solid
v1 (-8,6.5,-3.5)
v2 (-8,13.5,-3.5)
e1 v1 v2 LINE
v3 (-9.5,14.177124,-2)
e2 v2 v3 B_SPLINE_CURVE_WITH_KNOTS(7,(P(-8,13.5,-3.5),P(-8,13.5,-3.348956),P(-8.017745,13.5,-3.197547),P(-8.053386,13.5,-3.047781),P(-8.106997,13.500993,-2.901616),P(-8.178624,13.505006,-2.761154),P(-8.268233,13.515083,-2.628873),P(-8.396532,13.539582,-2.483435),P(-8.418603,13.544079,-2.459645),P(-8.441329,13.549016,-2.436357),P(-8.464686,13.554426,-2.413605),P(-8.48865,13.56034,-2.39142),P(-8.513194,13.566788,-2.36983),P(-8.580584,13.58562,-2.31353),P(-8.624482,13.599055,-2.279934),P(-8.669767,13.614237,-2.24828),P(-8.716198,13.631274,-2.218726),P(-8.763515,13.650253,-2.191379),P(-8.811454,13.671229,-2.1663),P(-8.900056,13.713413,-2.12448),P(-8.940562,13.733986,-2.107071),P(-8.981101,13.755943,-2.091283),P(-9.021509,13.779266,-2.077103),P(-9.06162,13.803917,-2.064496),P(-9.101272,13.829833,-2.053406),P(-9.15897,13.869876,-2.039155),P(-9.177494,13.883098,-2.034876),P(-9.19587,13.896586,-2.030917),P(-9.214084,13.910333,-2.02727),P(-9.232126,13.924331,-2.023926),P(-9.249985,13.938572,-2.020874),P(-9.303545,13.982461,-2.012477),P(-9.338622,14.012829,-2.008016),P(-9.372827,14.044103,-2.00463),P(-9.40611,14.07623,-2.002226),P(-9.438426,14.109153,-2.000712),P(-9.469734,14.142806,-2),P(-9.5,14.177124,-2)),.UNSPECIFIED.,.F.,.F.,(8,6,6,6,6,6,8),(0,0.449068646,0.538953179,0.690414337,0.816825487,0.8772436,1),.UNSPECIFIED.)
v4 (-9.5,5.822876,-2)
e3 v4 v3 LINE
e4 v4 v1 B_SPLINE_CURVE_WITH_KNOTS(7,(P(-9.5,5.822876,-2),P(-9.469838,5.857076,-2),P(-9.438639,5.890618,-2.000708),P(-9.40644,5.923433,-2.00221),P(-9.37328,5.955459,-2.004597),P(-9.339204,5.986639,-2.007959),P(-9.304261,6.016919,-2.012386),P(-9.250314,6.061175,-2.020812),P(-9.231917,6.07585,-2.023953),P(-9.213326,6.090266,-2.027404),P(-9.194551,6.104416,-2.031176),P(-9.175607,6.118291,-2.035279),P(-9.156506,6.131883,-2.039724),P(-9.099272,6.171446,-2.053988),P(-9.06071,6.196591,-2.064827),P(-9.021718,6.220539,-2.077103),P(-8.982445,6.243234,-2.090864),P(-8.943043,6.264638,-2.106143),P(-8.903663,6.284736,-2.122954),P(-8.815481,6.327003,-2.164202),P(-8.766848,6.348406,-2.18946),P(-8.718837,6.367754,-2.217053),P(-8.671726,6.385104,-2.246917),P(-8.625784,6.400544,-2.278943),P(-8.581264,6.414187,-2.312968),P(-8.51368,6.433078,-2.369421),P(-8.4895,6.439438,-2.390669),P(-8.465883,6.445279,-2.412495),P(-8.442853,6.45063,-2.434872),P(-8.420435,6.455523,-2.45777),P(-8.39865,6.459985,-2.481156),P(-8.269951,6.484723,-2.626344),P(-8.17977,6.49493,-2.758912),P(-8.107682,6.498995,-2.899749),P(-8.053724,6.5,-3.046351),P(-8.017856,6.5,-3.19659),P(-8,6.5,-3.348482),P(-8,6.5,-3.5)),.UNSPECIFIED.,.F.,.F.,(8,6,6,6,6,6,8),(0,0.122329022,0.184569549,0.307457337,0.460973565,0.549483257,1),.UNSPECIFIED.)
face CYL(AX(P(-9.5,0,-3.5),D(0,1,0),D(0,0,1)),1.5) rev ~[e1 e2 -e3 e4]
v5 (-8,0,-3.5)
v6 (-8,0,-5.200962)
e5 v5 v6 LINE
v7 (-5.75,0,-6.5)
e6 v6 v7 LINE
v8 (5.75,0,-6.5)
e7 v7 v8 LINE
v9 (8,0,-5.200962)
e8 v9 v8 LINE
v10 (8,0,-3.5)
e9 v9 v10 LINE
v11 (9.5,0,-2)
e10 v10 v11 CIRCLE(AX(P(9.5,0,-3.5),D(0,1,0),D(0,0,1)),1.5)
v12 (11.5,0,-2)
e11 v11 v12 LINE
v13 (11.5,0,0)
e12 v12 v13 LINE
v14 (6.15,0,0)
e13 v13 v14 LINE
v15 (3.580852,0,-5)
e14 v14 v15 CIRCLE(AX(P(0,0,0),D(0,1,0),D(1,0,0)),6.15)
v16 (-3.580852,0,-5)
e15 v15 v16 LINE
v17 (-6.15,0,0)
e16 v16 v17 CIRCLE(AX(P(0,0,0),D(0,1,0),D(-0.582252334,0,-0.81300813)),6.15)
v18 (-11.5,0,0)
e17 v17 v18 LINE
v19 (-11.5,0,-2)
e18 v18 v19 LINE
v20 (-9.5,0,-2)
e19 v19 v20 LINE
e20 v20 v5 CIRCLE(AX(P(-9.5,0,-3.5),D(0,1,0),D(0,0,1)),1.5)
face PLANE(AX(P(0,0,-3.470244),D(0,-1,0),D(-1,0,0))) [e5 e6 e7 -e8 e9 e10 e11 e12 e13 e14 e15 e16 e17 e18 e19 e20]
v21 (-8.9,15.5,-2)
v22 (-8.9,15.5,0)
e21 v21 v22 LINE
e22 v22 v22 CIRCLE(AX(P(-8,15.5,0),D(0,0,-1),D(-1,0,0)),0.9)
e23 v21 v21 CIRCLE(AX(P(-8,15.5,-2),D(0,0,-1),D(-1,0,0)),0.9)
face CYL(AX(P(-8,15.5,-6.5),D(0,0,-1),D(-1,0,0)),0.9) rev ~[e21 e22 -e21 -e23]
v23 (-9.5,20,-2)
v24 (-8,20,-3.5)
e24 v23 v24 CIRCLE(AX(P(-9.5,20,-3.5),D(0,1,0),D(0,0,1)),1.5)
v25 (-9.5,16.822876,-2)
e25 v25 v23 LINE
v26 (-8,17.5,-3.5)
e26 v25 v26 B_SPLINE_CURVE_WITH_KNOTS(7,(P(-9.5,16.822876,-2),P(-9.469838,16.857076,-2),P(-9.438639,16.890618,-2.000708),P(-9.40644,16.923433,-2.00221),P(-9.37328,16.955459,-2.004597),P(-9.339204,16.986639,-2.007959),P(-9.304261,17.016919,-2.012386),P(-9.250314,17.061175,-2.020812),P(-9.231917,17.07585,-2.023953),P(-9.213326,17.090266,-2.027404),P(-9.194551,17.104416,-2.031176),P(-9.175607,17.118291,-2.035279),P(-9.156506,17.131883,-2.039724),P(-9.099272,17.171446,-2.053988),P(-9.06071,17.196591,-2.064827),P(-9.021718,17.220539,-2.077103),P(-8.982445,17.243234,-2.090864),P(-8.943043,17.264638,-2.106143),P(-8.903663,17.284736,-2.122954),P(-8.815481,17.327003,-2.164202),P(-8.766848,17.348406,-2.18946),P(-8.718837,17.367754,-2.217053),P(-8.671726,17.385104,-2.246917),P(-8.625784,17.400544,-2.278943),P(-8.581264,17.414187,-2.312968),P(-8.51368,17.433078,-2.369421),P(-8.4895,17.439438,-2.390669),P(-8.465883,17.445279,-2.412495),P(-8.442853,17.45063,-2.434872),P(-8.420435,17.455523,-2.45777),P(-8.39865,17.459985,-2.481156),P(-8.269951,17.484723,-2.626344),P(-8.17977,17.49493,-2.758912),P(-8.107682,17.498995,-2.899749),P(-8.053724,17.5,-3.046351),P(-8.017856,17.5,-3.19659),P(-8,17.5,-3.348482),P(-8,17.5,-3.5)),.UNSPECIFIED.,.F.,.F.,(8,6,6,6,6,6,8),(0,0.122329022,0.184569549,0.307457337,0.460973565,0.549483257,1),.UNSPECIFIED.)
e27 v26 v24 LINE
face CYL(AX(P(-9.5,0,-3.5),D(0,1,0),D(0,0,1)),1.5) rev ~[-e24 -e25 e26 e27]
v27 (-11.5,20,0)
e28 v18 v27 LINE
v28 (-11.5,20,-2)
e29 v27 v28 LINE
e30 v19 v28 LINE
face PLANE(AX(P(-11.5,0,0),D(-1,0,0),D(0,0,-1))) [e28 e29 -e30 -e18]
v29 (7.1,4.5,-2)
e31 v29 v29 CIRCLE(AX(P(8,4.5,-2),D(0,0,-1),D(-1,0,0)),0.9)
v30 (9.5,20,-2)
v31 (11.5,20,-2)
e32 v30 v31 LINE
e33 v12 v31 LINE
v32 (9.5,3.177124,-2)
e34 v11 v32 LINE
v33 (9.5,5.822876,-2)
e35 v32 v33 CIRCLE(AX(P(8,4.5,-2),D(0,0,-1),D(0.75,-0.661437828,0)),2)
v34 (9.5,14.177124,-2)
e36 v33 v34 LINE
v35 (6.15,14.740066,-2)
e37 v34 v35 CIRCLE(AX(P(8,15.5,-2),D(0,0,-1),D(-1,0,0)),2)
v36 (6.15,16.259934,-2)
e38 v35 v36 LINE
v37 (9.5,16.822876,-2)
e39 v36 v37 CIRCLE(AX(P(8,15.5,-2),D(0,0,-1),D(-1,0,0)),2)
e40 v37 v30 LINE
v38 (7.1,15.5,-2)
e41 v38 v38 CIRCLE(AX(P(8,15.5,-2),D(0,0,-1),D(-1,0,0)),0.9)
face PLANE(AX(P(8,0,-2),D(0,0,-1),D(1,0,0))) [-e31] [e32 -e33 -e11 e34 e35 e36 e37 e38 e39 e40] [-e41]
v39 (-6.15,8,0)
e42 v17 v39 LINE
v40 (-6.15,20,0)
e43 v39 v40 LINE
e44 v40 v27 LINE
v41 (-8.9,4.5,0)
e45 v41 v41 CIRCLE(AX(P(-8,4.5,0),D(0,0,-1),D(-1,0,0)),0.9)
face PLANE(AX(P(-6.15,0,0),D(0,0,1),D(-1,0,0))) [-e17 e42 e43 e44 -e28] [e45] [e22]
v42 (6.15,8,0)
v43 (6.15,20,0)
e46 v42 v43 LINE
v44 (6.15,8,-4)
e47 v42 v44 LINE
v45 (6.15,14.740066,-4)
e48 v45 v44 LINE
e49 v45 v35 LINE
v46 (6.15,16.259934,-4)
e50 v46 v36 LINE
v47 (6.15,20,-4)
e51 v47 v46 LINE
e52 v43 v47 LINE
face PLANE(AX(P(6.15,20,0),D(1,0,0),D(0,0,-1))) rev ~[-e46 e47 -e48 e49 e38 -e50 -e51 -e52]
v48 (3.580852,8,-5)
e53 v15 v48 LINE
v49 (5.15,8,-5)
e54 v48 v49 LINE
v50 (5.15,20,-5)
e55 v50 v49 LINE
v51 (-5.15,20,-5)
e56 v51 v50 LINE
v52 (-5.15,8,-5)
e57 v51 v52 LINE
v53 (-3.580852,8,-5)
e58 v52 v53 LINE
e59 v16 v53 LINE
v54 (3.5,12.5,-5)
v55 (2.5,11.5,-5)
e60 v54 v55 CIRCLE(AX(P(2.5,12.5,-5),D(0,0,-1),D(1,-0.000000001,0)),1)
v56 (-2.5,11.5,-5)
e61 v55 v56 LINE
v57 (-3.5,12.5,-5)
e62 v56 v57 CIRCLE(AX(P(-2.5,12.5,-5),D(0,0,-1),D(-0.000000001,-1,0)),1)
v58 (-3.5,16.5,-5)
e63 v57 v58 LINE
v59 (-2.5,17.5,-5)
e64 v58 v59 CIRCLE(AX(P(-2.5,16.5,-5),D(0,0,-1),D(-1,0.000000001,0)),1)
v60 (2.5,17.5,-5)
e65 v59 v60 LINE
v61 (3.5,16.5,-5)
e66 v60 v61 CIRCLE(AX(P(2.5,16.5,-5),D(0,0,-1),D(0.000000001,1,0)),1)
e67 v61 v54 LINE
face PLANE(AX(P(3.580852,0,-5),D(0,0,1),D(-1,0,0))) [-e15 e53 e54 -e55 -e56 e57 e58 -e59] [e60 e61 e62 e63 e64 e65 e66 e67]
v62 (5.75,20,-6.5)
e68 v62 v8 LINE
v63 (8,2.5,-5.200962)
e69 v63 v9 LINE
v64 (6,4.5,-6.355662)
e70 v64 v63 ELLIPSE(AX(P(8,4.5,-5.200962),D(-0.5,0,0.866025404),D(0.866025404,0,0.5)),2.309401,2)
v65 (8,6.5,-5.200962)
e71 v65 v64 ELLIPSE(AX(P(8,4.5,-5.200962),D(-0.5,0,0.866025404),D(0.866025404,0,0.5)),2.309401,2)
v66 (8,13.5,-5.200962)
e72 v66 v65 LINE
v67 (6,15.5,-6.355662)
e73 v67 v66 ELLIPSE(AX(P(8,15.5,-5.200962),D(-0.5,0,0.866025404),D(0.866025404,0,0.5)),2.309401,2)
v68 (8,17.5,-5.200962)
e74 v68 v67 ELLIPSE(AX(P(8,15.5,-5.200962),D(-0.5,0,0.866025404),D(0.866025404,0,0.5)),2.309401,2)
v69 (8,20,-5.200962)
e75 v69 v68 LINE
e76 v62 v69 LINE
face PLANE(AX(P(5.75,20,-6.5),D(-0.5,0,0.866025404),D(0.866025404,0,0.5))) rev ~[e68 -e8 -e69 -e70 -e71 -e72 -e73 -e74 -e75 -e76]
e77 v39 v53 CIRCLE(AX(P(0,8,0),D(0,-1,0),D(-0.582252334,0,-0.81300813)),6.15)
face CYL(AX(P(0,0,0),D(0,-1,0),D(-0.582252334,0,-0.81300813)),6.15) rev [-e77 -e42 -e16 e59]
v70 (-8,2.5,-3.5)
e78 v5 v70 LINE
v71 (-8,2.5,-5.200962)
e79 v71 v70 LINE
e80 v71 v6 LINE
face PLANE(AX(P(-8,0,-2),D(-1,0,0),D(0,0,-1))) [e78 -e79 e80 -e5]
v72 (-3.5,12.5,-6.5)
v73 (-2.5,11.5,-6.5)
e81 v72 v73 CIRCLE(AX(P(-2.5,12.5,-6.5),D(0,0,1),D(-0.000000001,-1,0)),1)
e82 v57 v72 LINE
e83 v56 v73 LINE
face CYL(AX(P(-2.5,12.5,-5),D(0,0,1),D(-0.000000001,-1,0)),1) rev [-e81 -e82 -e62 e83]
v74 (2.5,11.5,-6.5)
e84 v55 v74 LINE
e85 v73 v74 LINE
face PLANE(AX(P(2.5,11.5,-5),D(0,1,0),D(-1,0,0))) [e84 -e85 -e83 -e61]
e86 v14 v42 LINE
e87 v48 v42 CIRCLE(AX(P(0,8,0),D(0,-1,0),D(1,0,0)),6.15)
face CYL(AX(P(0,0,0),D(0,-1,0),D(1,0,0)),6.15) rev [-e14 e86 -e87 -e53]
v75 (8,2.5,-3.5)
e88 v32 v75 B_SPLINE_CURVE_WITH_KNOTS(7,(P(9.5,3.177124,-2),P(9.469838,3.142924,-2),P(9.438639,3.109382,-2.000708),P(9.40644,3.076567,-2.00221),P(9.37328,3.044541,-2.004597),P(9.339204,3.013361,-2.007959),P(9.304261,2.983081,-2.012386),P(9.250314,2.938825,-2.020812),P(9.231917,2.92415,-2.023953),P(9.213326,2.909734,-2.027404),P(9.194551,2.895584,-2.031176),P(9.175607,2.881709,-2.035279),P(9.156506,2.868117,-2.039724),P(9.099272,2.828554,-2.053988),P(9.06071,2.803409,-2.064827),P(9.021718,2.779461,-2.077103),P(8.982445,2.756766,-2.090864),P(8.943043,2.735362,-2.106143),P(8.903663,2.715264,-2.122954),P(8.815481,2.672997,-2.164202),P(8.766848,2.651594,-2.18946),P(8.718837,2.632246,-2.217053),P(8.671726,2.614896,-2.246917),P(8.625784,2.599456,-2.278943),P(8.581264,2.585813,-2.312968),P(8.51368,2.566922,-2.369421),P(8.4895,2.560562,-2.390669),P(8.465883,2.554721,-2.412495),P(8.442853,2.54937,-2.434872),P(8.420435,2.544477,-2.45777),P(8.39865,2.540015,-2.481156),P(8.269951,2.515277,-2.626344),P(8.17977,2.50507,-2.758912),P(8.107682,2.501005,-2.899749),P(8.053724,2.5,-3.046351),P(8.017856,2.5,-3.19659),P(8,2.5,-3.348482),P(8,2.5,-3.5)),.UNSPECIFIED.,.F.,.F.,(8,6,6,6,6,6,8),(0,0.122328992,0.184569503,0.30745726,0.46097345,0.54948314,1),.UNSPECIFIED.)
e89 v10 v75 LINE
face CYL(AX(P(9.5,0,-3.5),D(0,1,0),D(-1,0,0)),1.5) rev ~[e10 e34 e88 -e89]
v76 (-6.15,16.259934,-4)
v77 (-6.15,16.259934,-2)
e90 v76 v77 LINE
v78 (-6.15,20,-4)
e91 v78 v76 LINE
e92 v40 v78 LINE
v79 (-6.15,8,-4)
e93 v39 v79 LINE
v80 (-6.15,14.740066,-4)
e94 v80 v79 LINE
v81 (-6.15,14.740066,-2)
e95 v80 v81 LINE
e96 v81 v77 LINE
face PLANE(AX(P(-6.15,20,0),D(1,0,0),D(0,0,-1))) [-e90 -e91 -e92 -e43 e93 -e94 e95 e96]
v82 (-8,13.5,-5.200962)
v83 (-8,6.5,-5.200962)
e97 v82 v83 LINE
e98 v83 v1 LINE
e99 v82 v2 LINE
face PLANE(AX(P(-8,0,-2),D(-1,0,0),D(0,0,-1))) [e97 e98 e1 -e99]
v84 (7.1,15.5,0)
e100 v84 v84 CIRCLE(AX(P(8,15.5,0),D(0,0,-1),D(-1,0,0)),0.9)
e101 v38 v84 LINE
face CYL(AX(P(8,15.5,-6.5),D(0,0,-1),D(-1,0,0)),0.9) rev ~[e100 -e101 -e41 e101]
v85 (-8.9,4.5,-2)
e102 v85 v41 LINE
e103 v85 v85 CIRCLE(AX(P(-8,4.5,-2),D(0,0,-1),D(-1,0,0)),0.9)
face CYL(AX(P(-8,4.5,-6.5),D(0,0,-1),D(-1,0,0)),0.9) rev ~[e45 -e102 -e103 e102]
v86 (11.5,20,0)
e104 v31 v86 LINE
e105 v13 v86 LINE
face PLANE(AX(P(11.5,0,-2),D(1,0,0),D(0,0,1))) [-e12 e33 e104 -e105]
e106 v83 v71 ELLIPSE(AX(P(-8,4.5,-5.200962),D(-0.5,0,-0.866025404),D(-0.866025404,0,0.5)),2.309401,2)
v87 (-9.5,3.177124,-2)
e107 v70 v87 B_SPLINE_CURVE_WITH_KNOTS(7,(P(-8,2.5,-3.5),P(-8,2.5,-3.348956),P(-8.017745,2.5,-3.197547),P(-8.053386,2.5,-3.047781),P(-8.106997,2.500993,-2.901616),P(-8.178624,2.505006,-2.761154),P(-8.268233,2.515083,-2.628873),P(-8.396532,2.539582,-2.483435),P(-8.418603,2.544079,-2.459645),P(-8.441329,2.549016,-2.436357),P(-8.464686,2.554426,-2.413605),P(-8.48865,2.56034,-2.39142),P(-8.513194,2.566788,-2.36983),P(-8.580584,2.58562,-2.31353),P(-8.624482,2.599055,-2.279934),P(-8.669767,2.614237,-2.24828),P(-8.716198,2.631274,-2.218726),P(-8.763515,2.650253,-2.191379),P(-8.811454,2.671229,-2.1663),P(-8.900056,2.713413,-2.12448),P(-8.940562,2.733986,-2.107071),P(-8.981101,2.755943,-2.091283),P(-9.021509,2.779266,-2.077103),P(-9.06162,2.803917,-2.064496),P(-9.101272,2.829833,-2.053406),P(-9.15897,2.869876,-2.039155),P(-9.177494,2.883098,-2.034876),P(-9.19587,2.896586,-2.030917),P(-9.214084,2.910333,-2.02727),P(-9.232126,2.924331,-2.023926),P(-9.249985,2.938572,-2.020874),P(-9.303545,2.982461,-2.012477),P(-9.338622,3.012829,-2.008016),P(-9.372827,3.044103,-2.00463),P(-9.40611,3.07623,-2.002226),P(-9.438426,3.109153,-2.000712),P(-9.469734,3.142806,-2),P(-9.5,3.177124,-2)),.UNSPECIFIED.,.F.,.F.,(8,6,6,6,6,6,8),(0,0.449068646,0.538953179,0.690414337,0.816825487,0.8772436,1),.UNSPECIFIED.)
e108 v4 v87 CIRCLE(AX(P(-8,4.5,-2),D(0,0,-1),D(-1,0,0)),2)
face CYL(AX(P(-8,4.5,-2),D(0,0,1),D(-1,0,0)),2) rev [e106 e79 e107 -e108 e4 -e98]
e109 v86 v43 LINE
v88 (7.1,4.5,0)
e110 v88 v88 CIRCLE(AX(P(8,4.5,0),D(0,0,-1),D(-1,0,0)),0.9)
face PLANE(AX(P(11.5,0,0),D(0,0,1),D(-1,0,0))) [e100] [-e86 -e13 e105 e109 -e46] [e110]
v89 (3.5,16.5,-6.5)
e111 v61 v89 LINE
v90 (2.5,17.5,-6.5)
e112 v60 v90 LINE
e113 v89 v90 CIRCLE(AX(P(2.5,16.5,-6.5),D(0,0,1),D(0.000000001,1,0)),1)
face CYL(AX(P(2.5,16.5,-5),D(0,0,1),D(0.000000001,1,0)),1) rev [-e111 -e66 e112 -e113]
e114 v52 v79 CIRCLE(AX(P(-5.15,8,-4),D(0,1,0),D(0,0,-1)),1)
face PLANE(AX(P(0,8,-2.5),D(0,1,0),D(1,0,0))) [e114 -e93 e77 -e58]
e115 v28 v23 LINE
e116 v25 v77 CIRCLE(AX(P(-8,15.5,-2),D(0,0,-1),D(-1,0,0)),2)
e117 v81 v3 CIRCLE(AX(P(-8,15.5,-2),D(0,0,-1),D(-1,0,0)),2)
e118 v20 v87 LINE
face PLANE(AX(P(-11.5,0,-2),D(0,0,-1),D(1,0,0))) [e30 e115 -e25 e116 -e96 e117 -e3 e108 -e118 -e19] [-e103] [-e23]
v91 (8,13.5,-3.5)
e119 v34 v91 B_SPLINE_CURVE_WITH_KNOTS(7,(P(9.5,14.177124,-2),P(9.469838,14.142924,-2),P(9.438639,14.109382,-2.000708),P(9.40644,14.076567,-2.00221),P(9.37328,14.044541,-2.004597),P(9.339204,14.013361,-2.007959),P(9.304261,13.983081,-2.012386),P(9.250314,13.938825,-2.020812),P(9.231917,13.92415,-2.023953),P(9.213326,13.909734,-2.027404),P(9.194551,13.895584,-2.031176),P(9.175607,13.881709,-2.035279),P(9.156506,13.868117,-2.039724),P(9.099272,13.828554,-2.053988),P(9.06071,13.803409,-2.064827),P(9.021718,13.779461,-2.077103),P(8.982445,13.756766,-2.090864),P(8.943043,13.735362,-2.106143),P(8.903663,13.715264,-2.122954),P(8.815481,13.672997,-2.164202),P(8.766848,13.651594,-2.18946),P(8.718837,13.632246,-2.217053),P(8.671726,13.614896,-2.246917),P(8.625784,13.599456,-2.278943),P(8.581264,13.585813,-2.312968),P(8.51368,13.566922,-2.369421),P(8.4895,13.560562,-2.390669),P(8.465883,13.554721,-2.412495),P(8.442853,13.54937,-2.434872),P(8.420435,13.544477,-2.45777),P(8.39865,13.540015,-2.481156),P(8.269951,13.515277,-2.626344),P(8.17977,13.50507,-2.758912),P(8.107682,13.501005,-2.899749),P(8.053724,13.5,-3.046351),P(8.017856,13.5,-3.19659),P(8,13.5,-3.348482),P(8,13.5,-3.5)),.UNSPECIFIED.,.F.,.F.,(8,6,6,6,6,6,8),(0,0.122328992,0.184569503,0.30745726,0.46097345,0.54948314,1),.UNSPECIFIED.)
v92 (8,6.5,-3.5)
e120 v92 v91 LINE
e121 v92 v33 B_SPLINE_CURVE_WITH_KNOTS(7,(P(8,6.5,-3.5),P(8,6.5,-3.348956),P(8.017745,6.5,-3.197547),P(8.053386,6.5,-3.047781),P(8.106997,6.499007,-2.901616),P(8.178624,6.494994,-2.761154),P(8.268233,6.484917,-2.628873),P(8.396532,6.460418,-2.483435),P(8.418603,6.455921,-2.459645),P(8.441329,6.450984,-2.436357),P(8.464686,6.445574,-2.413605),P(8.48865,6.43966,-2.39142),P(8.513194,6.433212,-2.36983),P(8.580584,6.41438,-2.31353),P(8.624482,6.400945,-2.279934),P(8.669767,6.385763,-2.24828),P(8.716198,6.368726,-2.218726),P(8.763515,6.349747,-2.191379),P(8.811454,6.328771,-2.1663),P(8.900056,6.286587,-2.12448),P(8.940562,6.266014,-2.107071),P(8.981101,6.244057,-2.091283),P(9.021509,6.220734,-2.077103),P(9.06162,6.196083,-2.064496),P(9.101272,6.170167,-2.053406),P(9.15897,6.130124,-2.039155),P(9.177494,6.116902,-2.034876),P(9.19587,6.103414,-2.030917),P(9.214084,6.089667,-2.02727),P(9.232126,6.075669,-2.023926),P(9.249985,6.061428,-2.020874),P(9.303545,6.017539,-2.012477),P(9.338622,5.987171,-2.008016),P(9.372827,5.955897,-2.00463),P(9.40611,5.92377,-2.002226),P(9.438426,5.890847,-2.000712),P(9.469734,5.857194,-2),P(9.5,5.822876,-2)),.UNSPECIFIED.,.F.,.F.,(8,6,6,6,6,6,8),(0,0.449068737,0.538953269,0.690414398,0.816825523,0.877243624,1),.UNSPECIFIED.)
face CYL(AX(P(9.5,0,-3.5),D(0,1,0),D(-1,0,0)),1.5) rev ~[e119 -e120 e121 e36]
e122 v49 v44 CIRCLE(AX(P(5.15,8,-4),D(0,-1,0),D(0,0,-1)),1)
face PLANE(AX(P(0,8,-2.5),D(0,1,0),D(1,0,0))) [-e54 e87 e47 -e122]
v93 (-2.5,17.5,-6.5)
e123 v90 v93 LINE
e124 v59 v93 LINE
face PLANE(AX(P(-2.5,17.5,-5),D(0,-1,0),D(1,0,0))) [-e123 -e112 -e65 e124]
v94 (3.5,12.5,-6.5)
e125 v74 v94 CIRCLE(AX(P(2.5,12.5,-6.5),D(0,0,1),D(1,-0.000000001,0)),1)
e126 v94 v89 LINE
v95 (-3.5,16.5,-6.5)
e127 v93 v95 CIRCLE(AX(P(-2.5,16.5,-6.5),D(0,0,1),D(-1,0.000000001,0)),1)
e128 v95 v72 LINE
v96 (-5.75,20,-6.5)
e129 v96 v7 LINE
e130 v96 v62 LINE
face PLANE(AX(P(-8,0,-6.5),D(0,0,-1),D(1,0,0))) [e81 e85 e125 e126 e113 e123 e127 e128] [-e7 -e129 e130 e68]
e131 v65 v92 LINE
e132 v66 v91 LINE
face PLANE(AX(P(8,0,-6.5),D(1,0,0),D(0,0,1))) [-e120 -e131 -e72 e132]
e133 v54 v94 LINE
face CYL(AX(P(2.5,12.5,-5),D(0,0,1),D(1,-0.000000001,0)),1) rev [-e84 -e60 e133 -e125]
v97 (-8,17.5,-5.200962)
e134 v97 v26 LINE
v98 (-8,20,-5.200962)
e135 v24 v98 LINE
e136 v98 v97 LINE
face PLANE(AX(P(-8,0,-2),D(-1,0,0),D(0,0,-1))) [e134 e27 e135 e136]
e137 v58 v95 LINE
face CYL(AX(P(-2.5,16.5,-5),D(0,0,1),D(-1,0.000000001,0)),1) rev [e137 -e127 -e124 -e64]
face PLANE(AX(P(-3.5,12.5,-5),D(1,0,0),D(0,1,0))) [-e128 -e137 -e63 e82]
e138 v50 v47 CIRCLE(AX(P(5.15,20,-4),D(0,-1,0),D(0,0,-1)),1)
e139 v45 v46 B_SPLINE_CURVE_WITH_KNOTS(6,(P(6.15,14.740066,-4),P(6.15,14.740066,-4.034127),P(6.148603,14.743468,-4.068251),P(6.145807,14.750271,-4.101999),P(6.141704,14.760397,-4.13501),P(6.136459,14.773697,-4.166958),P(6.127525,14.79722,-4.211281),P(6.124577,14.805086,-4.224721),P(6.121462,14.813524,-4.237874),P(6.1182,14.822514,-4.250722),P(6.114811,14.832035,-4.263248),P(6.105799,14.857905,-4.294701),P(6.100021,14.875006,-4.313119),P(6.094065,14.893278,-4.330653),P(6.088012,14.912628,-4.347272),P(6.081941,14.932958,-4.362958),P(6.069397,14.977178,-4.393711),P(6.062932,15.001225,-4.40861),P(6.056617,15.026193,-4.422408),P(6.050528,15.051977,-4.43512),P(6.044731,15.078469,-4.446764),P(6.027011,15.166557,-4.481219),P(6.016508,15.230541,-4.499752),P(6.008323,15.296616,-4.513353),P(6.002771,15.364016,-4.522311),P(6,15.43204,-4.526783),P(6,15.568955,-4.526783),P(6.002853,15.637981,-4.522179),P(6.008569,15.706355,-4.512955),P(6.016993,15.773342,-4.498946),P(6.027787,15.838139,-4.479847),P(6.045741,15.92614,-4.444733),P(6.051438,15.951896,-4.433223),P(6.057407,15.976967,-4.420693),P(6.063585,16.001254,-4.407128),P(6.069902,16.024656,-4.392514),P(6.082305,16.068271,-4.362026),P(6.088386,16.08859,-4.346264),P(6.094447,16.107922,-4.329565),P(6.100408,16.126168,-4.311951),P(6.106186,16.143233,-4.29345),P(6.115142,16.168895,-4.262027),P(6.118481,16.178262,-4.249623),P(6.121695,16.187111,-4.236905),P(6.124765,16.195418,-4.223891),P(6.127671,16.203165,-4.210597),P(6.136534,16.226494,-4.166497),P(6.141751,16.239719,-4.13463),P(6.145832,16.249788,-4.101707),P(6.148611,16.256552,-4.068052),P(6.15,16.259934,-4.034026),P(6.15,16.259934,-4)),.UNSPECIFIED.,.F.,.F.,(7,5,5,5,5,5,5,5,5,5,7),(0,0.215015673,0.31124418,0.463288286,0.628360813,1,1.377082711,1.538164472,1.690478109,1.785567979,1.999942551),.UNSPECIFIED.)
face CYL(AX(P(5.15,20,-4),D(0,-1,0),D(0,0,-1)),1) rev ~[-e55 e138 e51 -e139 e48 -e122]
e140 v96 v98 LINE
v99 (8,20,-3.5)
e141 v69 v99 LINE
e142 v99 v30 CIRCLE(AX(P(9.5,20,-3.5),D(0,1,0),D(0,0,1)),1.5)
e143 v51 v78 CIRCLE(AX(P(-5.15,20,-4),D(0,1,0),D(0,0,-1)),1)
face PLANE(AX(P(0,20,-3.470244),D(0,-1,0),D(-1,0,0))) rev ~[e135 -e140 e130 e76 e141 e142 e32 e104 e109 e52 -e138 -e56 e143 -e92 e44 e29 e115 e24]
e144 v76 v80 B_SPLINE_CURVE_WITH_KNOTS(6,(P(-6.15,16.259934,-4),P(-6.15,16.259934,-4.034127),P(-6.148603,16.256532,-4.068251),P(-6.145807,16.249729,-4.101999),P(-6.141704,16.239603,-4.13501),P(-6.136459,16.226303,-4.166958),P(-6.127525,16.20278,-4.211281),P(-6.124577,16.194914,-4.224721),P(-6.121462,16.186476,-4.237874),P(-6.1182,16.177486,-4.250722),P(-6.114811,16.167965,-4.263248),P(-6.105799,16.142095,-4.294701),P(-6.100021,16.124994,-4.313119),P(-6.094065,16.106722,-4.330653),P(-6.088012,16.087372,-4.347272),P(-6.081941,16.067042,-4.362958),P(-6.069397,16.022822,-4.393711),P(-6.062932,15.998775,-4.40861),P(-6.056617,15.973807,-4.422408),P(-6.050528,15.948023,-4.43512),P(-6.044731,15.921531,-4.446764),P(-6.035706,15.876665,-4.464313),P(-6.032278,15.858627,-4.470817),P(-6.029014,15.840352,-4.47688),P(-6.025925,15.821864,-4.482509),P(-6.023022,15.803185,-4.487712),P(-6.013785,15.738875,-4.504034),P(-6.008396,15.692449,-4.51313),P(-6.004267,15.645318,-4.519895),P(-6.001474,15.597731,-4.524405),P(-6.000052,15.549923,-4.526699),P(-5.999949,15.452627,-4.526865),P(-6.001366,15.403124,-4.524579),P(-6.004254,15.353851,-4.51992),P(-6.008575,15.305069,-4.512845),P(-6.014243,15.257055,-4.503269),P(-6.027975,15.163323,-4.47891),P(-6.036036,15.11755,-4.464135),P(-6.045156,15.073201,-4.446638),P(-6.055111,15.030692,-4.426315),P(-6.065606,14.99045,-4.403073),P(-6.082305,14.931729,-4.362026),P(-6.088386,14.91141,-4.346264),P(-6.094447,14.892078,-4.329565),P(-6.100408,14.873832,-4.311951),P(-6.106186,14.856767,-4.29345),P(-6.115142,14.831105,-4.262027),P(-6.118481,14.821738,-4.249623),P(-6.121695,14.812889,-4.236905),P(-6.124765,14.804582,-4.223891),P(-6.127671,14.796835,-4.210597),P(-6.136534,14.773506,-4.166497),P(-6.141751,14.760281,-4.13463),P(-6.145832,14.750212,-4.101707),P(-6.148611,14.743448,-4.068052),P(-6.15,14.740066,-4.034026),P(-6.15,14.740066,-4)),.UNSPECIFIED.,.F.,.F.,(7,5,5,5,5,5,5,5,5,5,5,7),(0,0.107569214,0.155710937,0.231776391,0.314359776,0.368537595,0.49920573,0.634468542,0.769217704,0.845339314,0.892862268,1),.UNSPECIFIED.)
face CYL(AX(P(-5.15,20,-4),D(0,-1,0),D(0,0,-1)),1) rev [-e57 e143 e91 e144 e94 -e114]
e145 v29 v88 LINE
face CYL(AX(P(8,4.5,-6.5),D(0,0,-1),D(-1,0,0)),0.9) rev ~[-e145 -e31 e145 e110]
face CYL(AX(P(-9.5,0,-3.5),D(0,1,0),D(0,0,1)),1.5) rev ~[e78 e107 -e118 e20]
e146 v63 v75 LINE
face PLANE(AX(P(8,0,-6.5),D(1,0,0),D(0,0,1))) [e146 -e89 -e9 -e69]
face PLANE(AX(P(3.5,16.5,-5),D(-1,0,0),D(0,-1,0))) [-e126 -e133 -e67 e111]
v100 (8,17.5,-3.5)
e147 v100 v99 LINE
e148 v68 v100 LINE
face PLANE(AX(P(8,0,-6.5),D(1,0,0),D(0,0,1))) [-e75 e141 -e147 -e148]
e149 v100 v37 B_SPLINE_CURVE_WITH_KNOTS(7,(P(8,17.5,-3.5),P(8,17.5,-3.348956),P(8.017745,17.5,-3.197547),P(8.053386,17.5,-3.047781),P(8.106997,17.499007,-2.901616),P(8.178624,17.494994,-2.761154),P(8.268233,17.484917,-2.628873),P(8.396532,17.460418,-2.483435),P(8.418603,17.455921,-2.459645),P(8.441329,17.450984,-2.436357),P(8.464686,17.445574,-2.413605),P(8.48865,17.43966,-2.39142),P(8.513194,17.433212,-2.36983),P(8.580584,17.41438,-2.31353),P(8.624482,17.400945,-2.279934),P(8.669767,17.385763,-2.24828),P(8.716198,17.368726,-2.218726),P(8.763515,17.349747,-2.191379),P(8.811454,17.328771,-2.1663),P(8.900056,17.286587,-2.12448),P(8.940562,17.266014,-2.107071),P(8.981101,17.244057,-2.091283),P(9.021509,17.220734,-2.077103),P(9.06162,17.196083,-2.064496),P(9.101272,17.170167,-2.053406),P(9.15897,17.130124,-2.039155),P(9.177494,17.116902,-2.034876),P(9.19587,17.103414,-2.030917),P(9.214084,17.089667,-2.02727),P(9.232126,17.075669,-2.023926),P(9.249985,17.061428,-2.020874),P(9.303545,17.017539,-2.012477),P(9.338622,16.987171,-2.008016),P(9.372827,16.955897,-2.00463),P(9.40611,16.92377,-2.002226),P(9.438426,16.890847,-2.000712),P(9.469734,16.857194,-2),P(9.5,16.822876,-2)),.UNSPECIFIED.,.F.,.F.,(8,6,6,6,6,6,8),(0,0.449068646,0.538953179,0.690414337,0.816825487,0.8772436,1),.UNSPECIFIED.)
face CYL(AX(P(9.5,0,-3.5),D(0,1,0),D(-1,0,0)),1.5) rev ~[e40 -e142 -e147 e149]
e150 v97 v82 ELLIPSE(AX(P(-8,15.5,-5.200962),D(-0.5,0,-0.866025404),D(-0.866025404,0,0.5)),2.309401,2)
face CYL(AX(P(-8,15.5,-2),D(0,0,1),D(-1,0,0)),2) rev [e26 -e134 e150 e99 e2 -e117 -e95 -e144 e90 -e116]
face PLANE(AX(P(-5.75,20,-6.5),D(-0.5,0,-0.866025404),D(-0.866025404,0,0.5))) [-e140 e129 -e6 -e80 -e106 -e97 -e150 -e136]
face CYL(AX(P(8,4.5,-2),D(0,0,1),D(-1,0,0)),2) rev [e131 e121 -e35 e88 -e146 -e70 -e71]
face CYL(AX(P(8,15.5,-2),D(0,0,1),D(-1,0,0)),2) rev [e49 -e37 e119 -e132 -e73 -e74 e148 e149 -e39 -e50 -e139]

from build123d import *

# Parameters (mm, degrees)
EXTRUDE_1_DEPTH     = 20
SKETCH_2_W          = 12.3
SKETCH_2_H          = 5
CUT_EXTRUDE_1_DEPTH = 12
FILLET_1_R          = 1
FILLET_2_R          = 1.5
CUT_EXTRUDE_5_DEPTH = 21
SKETCH_3_R          = 0.9
CUT_EXTRUDE_2_DEPTH = 8
SKETCH_4_R          = 2
CUT_EXTRUDE_3_DEPTH = 8
CUT_EXTRUDE_4_DEPTH = 8


with BuildPart() as part:
    # 草图1 → 凸台-拉伸1 (new body)
    with BuildSketch(Plane(origin=(0, 0, 0), x_dir=(1, 0, 0), z_dir=(0, 1, 0))):
        with BuildLine():
            Line((-6.15, 0), (-11.5, 0))
            Line((-11.5, 0), (-11.5, 2))
            Line((-11.5, 2), (-8, 2))
            Line((-8, 2), (-8, 6.5))
            Line((-8, 6.5), (8, 6.5))
            Line((8, 6.5), (8, 2))
            Line((8, 2), (11.5, 2))
            Line((11.5, 2), (11.5, 0))
            Line((11.5, 0), (6.15, 0))
            ThreePointArc((6.15, 0), (5.470134317, 2.810717088), (3.580851854, 5))
            Line((3.580851854, 5), (-3.580851854, 5))
            ThreePointArc((-3.580851854, 5), (-5.470134317, 2.810717088), (-6.15, 0))
        make_face()
    extrude(amount=EXTRUDE_1_DEPTH)

    # 草图2 → 切除-拉伸1 (cut)
    with BuildSketch(Plane(origin=(0, 20, 0), x_dir=(1, 0, 0), z_dir=(0, 1, 0))):
        with Locations((0, 2.5)):
            Rectangle(SKETCH_2_W, SKETCH_2_H)
    extrude(amount=-CUT_EXTRUDE_1_DEPTH, mode=Mode.SUBTRACT)

    # 圆角1
    fillet_1_edges = [part.edges().sort_by_distance(p)[0] for p in [
        (-6.15, 14, -5),
        (6.15, 14, -5),
    ]]
    fillet(fillet_1_edges, radius=FILLET_1_R)

    # 圆角2
    fillet_2_edges = [part.edges().sort_by_distance(p)[0] for p in [
        (-8, 10, -2),
        (8, 10, -2),
    ]]
    fillet(fillet_2_edges, radius=FILLET_2_R)

    # 草图6 → 切除-拉伸5 (cut, through all)
    with BuildSketch(Plane(origin=(0, 20, 0), x_dir=(1, 0, 0), z_dir=(0, 1, 0))):
        Polygon((-5.75, 6.5), (-8.528510242, 4.895826364), (-8.528510242, 6.5), align=None)
        Polygon((8.528510242, 6.5), (5.75, 6.5), (8.528510242, 4.895826364), align=None)
    extrude(amount=-CUT_EXTRUDE_5_DEPTH, mode=Mode.SUBTRACT)

    # 草图3 → 切除-拉伸2 (cut)
    with BuildSketch(Plane(origin=(0, 0, -6.5), x_dir=(-1, 0, 0), z_dir=(0, 0, -1))):
        with Locations((-8, 4.5)):
            Circle(SKETCH_3_R)
        with Locations((-8, 15.5)):
            Circle(SKETCH_3_R)
        with Locations((8, 15.5)):
            Circle(SKETCH_3_R)
        with Locations((8, 4.5)):
            Circle(SKETCH_3_R)
    extrude(amount=-CUT_EXTRUDE_2_DEPTH, mode=Mode.SUBTRACT)

    # 草图4 → 切除-拉伸3 (cut)
    with BuildSketch(Plane(origin=(0, 0, -2), x_dir=(-1, 0, 0), z_dir=(0, 0, -1))):
        with Locations((-8, 15.5)):
            Circle(SKETCH_4_R)
        with Locations((-8, 4.5)):
            Circle(SKETCH_4_R)
        with Locations((8, 15.5)):
            Circle(SKETCH_4_R)
        with Locations((8, 4.5)):
            Circle(SKETCH_4_R)
    extrude(amount=CUT_EXTRUDE_3_DEPTH, mode=Mode.SUBTRACT)

    # 草图5 → 切除-拉伸4 (cut)
    with BuildSketch(Plane.XY.offset(-5)):
        with BuildLine():
            Line((-2.5, 17.5), (2.5, 17.5))
            ThreePointArc((2.5, 17.5), (3.207106781, 17.207106781), (3.5, 16.5))
            Line((3.5, 16.5), (3.5, 12.5))
            ThreePointArc((3.5, 12.5), (3.207106781, 11.792893219), (2.5, 11.5))
            Line((2.5, 11.5), (-2.5, 11.5))
            ThreePointArc((-2.5, 11.5), (-3.207106781, 11.792893219), (-3.5, 12.5))
            Line((-3.5, 12.5), (-3.5, 16.5))
            ThreePointArc((-3.5, 16.5), (-3.207106781, 17.207106781), (-2.5, 17.5))
        make_face()
    extrude(amount=-CUT_EXTRUDE_4_DEPTH, mode=Mode.SUBTRACT)


solid = part.part
